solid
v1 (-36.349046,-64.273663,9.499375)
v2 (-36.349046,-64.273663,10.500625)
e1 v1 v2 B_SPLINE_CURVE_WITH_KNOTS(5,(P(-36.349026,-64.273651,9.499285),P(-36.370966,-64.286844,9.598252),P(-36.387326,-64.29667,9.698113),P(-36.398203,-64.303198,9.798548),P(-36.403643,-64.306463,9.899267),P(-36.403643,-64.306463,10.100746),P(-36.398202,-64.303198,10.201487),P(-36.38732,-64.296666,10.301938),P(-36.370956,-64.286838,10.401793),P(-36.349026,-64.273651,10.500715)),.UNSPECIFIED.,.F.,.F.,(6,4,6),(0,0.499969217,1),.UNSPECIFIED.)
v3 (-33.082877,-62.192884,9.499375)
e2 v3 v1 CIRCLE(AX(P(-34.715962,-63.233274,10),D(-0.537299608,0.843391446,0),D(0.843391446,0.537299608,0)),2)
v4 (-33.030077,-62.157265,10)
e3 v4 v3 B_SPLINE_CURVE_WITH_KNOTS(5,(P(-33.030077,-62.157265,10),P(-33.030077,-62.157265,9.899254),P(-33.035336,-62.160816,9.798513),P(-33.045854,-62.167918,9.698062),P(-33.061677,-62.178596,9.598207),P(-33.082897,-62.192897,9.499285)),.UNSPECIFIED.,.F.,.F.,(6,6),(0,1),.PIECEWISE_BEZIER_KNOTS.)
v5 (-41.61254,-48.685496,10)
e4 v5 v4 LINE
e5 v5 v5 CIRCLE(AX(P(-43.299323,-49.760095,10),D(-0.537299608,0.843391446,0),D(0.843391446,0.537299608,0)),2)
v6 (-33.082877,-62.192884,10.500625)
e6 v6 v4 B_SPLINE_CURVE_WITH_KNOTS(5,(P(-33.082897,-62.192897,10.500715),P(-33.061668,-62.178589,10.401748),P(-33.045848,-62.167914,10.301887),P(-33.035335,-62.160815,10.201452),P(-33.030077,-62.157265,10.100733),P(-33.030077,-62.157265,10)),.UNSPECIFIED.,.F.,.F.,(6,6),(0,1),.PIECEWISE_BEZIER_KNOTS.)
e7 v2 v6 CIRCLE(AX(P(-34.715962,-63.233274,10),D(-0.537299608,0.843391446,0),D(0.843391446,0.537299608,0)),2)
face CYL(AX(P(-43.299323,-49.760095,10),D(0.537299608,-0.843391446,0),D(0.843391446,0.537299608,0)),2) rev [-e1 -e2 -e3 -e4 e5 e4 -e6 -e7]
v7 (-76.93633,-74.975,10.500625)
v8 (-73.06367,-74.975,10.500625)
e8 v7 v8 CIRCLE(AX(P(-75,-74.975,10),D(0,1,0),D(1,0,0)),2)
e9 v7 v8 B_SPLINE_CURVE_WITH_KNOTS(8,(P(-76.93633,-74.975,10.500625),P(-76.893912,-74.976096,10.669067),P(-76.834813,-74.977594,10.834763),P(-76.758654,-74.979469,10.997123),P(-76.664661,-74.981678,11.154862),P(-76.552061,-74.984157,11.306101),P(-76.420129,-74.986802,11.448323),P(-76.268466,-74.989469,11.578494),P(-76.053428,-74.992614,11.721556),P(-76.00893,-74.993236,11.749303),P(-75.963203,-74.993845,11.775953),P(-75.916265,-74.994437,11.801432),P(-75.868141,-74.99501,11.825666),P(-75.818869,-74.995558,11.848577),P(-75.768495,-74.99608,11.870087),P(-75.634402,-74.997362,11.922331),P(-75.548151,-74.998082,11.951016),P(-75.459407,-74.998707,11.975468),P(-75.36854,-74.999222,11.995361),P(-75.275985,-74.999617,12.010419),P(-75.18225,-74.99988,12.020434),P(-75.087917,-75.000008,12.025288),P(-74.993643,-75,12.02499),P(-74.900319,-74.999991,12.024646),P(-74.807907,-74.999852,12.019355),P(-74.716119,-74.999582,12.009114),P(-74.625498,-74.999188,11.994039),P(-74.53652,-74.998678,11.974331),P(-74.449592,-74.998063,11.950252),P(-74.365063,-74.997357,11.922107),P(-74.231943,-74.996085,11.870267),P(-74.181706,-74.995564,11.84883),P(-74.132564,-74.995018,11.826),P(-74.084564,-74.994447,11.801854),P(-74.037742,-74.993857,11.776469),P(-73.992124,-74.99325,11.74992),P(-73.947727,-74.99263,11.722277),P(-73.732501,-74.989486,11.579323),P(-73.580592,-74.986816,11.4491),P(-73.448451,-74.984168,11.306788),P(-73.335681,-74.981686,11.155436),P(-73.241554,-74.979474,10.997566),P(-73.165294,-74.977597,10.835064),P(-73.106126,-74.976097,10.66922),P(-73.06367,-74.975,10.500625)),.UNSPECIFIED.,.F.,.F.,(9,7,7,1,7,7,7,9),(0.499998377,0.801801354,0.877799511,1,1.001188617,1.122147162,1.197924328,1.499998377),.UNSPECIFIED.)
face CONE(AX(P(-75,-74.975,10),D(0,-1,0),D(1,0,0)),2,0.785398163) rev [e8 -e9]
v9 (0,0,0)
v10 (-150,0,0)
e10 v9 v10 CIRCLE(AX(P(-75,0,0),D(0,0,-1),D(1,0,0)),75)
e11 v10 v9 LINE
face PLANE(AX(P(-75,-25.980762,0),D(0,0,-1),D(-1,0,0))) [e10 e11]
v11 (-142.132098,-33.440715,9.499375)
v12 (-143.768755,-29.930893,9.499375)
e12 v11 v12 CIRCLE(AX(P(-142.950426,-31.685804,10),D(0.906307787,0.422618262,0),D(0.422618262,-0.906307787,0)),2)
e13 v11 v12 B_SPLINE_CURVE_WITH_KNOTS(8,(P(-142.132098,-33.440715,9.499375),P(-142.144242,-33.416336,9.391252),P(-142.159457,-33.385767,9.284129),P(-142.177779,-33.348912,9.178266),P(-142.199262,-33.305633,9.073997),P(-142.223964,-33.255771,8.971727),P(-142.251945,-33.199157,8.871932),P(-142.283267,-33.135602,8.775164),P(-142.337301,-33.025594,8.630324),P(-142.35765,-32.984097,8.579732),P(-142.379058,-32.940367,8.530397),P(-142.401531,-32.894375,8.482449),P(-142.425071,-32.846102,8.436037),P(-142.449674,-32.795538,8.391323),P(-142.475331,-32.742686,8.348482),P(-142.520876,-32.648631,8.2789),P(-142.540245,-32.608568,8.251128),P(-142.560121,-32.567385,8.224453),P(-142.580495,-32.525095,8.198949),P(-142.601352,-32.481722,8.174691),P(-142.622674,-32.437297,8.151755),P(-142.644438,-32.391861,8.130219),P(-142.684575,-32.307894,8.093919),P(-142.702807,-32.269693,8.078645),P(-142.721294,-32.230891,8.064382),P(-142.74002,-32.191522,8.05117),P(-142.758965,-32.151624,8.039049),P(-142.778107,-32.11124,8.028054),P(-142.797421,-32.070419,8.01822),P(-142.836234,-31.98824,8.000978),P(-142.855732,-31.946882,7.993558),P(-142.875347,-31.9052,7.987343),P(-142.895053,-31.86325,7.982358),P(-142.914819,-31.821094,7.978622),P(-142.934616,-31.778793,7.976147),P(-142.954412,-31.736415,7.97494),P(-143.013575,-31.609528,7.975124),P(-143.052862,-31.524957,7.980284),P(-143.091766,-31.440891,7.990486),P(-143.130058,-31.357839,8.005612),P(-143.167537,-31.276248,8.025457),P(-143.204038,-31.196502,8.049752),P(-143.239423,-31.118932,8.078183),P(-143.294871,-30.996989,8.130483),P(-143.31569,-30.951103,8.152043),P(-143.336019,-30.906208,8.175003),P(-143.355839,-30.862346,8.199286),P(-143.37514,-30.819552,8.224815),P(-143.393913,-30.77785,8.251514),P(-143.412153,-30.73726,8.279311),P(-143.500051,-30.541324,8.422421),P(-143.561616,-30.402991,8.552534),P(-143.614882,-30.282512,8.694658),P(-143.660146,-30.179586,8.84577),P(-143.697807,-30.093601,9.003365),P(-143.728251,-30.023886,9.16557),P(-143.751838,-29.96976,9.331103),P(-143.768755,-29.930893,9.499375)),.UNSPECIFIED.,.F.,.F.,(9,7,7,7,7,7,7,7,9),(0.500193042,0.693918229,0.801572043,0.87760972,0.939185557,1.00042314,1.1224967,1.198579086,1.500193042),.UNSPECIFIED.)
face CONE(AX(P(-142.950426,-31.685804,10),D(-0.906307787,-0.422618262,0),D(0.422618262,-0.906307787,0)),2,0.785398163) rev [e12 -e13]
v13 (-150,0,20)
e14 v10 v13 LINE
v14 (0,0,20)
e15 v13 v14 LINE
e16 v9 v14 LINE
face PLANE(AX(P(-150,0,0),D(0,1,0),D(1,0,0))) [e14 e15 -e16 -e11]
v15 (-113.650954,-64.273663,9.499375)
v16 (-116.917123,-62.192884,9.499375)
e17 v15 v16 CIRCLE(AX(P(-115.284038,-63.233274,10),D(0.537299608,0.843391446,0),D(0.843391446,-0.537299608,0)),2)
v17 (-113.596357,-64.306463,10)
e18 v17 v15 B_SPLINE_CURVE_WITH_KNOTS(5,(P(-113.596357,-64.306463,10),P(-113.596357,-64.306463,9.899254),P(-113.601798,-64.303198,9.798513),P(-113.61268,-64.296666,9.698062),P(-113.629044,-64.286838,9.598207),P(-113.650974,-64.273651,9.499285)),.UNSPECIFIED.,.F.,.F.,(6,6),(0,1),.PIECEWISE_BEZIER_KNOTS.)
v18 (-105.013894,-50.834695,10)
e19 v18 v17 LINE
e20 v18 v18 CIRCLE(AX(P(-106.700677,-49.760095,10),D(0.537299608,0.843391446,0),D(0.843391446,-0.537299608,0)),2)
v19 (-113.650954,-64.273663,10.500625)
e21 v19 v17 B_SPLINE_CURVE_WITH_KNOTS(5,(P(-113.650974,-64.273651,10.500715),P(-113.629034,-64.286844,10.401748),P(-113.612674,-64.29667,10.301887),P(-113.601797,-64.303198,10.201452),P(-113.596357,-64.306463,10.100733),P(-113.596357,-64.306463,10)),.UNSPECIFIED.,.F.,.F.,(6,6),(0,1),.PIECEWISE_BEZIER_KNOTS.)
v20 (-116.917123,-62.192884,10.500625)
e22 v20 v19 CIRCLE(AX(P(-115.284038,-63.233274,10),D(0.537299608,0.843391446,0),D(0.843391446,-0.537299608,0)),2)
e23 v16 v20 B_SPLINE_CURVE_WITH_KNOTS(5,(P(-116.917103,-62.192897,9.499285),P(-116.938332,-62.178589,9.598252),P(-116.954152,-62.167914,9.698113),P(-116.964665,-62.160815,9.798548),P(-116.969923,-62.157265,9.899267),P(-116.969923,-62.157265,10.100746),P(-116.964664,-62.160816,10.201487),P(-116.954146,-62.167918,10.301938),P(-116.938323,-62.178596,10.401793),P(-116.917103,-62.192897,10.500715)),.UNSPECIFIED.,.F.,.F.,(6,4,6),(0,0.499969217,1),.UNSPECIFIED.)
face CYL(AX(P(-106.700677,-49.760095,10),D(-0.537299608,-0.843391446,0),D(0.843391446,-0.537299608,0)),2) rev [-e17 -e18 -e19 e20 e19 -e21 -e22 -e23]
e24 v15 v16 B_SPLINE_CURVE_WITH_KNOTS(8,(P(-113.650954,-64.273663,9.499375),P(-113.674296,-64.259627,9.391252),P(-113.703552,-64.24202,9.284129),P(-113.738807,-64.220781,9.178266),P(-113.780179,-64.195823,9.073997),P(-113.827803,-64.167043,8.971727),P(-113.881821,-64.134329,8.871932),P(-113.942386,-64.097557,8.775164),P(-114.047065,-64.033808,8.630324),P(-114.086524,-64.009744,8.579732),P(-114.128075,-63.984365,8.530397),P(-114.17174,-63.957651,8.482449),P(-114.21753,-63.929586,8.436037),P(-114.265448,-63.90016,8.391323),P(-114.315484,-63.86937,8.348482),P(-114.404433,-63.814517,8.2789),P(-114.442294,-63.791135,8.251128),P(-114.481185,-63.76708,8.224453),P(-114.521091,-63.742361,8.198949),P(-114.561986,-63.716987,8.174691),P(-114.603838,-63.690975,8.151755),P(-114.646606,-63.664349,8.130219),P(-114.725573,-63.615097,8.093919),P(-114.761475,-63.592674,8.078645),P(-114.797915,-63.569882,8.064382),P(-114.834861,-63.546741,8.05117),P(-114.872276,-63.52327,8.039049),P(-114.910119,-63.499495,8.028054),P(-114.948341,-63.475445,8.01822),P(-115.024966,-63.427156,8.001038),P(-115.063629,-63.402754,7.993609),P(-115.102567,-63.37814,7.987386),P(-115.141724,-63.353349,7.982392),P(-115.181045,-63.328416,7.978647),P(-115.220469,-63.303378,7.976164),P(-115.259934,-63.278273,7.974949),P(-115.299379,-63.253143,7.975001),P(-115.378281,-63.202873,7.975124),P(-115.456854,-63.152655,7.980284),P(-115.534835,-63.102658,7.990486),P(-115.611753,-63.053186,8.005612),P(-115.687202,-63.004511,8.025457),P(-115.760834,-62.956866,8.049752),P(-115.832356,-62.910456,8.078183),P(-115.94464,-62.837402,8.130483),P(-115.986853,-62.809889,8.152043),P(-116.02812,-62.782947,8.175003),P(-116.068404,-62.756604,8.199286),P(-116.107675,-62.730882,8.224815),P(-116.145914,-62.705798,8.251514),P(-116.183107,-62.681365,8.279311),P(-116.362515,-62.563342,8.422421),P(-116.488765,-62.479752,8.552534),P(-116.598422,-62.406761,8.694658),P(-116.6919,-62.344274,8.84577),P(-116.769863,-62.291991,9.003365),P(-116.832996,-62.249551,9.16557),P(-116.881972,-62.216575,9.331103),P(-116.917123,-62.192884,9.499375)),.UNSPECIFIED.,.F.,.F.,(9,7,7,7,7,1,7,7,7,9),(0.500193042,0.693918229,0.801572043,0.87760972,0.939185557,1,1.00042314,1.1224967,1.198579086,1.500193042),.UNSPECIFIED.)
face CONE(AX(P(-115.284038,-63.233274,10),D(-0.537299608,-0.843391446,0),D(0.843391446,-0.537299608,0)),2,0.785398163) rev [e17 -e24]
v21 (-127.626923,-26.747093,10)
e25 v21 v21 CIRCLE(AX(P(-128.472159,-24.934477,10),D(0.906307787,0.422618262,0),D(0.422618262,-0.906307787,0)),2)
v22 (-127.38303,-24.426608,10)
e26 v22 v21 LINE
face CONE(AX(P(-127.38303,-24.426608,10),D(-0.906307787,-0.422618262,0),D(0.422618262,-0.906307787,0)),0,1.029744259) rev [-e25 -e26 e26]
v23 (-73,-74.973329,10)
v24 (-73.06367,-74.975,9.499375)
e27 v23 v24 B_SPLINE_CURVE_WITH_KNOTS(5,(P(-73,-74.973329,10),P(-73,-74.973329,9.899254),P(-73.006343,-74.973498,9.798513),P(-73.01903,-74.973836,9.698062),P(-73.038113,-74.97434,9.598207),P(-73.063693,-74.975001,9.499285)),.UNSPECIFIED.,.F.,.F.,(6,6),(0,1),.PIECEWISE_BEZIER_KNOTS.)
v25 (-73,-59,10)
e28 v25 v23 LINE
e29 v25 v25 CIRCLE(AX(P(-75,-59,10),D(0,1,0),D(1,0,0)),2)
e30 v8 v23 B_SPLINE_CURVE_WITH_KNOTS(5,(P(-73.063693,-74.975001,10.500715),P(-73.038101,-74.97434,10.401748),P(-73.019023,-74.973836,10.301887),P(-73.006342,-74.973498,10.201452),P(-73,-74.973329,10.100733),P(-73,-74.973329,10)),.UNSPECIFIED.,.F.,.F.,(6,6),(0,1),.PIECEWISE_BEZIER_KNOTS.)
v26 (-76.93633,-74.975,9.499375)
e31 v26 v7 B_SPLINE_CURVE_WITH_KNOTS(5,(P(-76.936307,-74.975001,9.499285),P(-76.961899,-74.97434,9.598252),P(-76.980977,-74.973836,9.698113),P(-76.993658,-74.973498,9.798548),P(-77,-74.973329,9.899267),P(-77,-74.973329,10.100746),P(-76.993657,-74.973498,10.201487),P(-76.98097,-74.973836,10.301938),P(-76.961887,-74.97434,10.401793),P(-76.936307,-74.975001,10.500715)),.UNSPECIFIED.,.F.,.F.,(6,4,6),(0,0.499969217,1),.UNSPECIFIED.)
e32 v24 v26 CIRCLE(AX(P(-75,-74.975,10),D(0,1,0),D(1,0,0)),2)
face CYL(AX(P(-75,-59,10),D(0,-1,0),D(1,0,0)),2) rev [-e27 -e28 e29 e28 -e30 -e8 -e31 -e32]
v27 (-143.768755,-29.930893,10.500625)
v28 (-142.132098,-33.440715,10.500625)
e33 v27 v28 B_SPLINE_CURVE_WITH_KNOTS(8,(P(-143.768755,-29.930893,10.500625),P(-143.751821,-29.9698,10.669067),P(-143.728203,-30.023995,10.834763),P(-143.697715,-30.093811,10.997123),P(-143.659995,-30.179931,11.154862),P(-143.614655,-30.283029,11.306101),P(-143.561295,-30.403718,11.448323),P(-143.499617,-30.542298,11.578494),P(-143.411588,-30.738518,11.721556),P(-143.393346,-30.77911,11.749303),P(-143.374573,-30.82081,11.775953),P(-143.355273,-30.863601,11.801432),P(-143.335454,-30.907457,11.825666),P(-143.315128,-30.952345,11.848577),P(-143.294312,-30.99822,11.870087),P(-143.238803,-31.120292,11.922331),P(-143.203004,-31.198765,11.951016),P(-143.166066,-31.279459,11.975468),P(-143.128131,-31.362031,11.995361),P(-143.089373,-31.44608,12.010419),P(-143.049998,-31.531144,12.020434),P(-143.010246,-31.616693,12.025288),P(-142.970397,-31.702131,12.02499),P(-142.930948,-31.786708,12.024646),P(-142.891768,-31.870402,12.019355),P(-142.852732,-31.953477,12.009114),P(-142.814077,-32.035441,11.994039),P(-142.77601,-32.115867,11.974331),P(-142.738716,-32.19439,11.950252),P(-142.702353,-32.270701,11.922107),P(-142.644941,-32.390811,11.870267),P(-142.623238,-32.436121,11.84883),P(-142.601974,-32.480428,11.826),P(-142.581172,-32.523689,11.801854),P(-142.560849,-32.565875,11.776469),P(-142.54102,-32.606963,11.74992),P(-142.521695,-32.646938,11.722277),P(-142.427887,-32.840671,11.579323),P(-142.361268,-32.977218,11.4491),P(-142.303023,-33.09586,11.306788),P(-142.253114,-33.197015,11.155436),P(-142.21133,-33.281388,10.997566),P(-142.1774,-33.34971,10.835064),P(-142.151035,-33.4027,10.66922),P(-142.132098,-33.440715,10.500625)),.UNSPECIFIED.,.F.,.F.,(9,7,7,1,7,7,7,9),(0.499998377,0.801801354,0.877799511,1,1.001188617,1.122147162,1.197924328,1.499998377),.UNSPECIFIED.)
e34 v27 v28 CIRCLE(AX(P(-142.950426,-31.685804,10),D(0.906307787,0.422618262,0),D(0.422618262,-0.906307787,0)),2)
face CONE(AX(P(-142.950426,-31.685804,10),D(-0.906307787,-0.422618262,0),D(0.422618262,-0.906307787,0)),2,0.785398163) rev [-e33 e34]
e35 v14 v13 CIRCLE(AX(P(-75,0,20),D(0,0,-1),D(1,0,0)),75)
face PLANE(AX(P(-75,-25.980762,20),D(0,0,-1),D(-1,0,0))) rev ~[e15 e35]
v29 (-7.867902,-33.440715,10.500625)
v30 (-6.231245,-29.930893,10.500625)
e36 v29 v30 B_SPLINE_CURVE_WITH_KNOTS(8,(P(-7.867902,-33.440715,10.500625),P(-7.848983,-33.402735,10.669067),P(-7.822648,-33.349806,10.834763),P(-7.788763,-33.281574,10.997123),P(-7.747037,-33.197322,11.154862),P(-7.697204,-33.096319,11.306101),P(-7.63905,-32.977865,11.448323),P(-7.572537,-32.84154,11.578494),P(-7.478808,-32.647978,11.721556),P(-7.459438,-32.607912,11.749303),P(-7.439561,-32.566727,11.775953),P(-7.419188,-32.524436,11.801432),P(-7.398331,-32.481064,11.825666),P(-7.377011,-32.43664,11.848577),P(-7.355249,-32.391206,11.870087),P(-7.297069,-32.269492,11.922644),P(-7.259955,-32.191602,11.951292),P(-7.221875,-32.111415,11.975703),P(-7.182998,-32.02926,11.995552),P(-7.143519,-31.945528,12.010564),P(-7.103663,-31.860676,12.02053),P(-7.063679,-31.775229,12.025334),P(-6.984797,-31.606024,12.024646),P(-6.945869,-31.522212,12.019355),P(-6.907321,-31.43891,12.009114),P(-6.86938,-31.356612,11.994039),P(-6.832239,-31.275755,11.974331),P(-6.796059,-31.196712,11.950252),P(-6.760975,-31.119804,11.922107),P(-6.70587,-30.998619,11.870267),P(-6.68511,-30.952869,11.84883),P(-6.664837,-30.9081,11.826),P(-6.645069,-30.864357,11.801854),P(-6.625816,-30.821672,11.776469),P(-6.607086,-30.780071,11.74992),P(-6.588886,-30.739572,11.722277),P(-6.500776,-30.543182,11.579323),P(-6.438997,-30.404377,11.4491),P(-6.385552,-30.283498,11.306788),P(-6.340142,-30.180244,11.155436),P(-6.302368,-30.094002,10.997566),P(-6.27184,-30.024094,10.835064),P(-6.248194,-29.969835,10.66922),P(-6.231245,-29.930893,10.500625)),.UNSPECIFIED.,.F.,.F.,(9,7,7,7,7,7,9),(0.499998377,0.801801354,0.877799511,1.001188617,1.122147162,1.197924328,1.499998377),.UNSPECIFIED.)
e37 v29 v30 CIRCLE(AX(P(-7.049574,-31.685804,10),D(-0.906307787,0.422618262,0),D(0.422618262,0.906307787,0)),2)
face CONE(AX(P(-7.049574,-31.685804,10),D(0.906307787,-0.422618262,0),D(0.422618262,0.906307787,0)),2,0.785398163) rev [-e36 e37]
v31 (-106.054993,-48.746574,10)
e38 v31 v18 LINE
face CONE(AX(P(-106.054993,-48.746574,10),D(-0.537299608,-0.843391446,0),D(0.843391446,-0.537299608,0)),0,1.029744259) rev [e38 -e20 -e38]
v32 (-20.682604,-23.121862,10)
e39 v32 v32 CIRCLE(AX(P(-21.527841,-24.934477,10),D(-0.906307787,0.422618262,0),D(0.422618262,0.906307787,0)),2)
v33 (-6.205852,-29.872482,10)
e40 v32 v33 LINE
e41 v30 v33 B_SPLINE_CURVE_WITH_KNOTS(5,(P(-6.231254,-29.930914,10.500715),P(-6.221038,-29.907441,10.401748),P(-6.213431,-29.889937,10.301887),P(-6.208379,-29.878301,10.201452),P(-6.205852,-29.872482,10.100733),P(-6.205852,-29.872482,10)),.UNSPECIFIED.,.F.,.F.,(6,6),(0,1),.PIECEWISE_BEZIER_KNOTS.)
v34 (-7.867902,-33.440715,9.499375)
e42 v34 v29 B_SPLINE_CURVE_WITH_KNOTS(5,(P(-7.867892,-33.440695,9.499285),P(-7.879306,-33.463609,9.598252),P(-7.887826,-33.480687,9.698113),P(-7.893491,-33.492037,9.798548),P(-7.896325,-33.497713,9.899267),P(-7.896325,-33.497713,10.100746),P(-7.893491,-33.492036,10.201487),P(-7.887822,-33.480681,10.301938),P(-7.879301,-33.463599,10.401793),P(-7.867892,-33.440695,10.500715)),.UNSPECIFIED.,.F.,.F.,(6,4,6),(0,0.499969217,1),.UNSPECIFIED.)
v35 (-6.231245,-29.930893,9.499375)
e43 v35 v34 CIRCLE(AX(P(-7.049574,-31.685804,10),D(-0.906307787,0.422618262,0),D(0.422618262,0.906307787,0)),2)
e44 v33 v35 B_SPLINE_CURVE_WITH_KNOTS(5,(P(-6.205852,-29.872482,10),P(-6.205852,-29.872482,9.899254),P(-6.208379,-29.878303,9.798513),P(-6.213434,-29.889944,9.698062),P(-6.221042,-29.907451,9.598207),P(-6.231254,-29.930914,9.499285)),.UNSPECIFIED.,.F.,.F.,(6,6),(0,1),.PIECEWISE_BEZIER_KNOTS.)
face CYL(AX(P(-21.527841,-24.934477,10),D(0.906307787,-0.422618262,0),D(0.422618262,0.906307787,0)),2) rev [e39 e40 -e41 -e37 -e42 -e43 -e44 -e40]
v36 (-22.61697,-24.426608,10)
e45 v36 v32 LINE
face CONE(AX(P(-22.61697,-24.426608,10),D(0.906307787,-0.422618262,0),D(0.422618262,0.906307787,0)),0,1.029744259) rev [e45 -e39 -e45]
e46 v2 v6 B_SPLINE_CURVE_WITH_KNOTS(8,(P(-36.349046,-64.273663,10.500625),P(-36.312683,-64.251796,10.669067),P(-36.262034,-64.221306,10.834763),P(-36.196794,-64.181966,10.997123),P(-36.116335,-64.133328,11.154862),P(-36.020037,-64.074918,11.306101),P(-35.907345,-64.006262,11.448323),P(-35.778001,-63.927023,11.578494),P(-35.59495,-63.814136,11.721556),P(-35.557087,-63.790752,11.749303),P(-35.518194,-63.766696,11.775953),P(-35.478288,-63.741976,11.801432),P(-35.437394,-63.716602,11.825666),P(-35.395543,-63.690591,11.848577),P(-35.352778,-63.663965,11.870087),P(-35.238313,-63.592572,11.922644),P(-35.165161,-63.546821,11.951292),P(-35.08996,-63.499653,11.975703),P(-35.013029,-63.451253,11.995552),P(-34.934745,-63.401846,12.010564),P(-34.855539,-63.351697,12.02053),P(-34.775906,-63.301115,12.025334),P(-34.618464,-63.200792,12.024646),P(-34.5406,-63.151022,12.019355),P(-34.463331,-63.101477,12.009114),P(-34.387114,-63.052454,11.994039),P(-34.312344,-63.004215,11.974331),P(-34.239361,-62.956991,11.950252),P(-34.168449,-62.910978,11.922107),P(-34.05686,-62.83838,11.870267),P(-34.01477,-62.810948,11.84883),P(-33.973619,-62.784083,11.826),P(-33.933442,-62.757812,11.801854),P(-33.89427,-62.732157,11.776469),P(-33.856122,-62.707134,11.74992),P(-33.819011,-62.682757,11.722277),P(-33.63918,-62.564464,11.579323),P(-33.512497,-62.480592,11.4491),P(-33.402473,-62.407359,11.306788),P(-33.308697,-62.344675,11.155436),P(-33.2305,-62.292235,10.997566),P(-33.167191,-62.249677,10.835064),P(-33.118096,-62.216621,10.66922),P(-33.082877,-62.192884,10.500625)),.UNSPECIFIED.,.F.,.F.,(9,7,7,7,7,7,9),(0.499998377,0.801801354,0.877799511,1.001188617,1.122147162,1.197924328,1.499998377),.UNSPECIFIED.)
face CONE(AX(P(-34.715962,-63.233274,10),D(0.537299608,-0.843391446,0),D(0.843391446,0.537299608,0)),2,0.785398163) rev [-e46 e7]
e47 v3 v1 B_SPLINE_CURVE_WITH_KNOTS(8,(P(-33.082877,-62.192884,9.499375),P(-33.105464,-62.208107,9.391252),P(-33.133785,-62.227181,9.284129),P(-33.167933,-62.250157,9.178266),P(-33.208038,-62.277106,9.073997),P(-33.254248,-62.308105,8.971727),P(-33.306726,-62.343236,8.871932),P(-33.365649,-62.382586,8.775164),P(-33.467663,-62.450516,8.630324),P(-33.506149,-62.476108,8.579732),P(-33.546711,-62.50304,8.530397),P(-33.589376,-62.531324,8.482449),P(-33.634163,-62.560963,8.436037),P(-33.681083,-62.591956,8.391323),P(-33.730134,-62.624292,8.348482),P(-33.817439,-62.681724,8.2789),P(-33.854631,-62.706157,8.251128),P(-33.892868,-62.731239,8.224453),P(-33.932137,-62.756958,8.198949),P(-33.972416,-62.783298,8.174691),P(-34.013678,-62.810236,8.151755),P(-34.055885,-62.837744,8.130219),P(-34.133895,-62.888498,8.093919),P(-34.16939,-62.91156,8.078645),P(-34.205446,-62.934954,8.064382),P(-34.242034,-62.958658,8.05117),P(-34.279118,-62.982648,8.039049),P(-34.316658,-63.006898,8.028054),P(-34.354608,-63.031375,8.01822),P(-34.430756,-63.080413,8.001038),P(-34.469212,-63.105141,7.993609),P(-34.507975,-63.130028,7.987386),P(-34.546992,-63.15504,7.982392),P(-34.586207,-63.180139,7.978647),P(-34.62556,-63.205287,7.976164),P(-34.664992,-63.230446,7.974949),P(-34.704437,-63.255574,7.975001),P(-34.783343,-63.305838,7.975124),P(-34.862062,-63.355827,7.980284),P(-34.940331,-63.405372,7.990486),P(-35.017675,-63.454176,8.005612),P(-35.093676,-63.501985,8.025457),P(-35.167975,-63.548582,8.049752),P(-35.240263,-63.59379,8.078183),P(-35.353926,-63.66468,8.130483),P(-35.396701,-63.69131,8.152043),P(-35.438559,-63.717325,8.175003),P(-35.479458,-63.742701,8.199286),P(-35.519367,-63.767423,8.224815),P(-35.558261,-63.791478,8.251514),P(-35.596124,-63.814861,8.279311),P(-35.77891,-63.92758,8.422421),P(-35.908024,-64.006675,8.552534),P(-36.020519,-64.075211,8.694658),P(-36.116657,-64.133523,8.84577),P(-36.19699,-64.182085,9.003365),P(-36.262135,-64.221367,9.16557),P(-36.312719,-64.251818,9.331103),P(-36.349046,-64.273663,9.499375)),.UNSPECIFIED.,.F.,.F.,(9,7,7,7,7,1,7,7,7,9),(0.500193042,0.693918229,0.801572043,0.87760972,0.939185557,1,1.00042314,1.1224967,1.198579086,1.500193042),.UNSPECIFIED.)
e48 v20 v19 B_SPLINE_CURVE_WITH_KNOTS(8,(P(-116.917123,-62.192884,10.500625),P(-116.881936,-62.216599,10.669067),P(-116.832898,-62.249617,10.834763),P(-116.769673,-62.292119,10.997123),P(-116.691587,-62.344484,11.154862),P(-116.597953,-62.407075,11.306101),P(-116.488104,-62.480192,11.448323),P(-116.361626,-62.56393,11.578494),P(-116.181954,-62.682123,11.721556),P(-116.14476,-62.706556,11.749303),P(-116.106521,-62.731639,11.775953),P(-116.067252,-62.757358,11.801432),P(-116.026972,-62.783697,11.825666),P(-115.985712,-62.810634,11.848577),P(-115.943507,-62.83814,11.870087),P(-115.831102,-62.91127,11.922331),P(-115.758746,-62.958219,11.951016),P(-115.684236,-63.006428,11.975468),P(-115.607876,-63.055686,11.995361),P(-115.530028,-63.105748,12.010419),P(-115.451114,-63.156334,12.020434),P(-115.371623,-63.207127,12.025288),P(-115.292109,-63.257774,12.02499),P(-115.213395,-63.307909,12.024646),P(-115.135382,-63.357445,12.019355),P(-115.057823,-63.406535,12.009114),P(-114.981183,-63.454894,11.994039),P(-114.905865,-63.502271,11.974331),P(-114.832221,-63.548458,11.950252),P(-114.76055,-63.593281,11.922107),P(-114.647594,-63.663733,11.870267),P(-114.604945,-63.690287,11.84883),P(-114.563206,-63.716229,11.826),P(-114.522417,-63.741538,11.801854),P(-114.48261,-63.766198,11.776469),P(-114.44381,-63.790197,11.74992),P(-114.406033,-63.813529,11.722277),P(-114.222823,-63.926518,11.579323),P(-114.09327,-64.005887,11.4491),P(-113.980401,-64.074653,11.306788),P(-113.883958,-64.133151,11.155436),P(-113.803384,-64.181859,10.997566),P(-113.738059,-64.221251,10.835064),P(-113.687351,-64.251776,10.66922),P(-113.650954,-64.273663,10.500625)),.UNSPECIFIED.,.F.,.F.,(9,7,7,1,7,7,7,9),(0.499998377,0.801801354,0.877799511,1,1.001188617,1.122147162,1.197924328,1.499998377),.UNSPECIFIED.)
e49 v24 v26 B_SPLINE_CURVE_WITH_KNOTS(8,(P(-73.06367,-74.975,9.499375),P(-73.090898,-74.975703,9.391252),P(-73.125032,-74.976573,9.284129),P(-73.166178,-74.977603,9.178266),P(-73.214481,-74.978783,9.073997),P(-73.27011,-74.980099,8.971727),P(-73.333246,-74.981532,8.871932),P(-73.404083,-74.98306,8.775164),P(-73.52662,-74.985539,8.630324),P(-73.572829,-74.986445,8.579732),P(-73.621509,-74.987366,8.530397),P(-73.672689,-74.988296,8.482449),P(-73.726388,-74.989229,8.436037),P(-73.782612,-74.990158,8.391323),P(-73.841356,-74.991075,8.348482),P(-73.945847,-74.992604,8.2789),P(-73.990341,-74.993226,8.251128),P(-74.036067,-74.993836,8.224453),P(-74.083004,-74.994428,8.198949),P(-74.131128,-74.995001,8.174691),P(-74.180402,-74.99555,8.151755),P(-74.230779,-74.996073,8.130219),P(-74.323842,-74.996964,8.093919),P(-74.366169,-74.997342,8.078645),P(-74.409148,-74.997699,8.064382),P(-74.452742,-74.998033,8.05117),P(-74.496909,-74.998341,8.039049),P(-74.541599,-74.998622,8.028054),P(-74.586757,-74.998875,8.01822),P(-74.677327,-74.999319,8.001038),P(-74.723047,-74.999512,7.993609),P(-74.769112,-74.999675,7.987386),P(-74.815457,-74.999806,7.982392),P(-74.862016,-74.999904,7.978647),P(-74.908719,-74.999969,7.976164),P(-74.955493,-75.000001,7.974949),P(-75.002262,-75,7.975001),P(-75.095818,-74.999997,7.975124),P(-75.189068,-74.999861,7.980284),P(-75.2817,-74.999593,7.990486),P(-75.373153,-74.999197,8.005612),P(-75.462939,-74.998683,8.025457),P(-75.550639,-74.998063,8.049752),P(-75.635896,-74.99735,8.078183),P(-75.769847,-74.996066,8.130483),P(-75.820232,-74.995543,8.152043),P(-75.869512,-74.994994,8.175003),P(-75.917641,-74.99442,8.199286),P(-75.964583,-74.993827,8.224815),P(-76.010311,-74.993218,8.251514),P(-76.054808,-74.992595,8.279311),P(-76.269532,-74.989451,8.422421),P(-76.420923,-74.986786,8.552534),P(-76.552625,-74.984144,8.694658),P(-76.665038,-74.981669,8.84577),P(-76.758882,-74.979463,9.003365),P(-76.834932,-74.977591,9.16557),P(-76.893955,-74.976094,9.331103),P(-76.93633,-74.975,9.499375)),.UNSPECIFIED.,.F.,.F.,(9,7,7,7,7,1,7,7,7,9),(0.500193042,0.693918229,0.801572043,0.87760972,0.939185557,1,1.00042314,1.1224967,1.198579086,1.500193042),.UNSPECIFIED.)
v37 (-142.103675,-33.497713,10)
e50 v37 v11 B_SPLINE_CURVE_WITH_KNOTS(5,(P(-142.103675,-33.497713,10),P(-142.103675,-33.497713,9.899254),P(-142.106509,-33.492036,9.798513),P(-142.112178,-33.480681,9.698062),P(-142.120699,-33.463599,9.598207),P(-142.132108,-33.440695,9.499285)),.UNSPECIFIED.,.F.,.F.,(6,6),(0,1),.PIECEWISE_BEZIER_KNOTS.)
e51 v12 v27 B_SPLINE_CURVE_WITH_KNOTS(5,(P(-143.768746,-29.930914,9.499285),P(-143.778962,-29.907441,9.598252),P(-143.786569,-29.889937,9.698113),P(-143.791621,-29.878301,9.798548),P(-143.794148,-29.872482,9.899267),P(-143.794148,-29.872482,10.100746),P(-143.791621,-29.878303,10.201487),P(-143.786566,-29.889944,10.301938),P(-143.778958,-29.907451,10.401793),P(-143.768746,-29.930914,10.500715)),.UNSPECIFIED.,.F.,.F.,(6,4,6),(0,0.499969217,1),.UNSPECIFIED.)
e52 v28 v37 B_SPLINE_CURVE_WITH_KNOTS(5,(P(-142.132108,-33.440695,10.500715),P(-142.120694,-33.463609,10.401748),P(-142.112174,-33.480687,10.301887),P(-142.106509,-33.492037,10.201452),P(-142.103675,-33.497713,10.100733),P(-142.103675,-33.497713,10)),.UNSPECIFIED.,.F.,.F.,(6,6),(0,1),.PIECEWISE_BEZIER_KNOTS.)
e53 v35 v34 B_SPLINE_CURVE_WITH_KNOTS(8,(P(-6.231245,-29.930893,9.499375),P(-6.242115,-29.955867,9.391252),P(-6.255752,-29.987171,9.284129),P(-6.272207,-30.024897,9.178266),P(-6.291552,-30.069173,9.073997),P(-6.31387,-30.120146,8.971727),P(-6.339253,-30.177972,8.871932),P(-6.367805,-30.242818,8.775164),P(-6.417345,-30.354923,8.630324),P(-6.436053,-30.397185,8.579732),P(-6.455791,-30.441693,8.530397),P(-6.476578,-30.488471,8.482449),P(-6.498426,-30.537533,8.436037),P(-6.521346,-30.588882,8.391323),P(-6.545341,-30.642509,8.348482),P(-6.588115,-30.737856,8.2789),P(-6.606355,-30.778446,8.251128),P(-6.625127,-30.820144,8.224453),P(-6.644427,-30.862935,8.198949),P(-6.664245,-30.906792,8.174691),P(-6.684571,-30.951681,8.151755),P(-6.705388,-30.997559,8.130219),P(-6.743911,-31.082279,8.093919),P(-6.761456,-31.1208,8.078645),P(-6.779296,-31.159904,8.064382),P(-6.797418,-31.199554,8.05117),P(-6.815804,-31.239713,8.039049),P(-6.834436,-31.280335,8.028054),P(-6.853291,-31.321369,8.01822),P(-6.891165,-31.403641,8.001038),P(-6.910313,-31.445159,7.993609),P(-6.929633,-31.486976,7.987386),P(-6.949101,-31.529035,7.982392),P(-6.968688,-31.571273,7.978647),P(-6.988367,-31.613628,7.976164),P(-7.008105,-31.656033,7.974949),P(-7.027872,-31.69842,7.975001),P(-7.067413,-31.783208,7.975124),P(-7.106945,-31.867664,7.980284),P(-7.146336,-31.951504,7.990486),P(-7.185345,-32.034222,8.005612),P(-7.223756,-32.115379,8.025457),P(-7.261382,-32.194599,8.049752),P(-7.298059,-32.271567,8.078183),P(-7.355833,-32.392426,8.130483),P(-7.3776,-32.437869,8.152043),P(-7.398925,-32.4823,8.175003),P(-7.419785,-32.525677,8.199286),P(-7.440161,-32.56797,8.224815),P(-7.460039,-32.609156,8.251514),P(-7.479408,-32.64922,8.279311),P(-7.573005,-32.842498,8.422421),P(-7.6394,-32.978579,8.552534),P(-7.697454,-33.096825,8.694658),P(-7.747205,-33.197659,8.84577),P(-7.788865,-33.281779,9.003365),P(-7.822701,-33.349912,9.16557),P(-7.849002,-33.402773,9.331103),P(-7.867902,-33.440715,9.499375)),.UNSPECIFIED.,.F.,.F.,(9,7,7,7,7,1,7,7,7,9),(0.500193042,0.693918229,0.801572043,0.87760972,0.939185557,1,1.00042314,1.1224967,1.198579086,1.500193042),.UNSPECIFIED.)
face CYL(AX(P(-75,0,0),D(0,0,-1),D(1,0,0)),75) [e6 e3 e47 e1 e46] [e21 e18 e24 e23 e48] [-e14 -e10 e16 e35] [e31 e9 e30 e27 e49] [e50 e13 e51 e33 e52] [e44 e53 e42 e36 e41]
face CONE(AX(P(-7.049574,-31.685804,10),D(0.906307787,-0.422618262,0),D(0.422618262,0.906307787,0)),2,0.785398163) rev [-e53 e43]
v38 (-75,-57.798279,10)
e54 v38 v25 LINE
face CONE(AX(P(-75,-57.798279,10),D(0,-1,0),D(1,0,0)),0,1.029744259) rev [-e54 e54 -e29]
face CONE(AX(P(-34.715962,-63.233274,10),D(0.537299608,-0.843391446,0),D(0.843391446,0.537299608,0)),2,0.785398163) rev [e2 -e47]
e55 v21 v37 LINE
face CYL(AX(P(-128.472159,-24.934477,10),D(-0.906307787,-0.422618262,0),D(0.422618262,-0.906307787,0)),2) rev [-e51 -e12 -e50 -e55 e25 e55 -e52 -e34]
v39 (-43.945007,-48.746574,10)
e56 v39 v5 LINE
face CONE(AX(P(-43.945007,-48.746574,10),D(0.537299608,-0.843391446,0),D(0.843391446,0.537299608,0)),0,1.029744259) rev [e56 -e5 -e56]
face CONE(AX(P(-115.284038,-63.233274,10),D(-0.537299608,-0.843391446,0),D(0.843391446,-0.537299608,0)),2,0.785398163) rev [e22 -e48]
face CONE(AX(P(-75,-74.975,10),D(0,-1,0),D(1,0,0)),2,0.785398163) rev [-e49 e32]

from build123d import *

# Parameters (mm, degrees)
BOSS_EXTRUDE1_DEPTH = 20
CIRPATTERN1_COUNT   = 5
CIRPATTERN1_ANGLE   = 130


with BuildPart() as part:
    # Sketch1 → Boss-Extrude1 (new body)
    with BuildSketch(Plane.XY):
        with BuildLine():
            Line((-150, 0), (0, 0))
            ThreePointArc((0, 0), (-75, -75), (-150, 0))
        make_face()
    extrude(amount=BOSS_EXTRUDE1_DEPTH)

    # Sketch4 → Ø4.0mm Dowel Hole2 (revolve, cut)
    with BuildSketch(Plane(origin=(-7.026915972, -31.696369631, 10), x_dir=(0.4226182617407001, 0.9063077870366498, 0), z_dir=(0, 0, 1))):
        Polygon((0, 0), (0, 17.201721238), (2, 16), (2, 0.025), (2.025, 0), align=None)
    f_4_0mm_dowel_hole2 = revolve(axis=Axis((-1.271861525, -34.379995593, 10), (-0.9063077870366497, 0.42261826174070016, 0)), mode=Mode.SUBTRACT)

    # CirPattern1: Ø4.0mm Dowel Hole2 ×5 about axis
    cirpattern1_axis = Axis((-75, 0, 0), (0, 0, -1))
    for i in range(1, CIRPATTERN1_COUNT):
        add(f_4_0mm_dowel_hole2.rotate(cirpattern1_axis, i * CIRPATTERN1_ANGLE / (CIRPATTERN1_COUNT - 1)), mode=Mode.SUBTRACT)


solid = part.part
